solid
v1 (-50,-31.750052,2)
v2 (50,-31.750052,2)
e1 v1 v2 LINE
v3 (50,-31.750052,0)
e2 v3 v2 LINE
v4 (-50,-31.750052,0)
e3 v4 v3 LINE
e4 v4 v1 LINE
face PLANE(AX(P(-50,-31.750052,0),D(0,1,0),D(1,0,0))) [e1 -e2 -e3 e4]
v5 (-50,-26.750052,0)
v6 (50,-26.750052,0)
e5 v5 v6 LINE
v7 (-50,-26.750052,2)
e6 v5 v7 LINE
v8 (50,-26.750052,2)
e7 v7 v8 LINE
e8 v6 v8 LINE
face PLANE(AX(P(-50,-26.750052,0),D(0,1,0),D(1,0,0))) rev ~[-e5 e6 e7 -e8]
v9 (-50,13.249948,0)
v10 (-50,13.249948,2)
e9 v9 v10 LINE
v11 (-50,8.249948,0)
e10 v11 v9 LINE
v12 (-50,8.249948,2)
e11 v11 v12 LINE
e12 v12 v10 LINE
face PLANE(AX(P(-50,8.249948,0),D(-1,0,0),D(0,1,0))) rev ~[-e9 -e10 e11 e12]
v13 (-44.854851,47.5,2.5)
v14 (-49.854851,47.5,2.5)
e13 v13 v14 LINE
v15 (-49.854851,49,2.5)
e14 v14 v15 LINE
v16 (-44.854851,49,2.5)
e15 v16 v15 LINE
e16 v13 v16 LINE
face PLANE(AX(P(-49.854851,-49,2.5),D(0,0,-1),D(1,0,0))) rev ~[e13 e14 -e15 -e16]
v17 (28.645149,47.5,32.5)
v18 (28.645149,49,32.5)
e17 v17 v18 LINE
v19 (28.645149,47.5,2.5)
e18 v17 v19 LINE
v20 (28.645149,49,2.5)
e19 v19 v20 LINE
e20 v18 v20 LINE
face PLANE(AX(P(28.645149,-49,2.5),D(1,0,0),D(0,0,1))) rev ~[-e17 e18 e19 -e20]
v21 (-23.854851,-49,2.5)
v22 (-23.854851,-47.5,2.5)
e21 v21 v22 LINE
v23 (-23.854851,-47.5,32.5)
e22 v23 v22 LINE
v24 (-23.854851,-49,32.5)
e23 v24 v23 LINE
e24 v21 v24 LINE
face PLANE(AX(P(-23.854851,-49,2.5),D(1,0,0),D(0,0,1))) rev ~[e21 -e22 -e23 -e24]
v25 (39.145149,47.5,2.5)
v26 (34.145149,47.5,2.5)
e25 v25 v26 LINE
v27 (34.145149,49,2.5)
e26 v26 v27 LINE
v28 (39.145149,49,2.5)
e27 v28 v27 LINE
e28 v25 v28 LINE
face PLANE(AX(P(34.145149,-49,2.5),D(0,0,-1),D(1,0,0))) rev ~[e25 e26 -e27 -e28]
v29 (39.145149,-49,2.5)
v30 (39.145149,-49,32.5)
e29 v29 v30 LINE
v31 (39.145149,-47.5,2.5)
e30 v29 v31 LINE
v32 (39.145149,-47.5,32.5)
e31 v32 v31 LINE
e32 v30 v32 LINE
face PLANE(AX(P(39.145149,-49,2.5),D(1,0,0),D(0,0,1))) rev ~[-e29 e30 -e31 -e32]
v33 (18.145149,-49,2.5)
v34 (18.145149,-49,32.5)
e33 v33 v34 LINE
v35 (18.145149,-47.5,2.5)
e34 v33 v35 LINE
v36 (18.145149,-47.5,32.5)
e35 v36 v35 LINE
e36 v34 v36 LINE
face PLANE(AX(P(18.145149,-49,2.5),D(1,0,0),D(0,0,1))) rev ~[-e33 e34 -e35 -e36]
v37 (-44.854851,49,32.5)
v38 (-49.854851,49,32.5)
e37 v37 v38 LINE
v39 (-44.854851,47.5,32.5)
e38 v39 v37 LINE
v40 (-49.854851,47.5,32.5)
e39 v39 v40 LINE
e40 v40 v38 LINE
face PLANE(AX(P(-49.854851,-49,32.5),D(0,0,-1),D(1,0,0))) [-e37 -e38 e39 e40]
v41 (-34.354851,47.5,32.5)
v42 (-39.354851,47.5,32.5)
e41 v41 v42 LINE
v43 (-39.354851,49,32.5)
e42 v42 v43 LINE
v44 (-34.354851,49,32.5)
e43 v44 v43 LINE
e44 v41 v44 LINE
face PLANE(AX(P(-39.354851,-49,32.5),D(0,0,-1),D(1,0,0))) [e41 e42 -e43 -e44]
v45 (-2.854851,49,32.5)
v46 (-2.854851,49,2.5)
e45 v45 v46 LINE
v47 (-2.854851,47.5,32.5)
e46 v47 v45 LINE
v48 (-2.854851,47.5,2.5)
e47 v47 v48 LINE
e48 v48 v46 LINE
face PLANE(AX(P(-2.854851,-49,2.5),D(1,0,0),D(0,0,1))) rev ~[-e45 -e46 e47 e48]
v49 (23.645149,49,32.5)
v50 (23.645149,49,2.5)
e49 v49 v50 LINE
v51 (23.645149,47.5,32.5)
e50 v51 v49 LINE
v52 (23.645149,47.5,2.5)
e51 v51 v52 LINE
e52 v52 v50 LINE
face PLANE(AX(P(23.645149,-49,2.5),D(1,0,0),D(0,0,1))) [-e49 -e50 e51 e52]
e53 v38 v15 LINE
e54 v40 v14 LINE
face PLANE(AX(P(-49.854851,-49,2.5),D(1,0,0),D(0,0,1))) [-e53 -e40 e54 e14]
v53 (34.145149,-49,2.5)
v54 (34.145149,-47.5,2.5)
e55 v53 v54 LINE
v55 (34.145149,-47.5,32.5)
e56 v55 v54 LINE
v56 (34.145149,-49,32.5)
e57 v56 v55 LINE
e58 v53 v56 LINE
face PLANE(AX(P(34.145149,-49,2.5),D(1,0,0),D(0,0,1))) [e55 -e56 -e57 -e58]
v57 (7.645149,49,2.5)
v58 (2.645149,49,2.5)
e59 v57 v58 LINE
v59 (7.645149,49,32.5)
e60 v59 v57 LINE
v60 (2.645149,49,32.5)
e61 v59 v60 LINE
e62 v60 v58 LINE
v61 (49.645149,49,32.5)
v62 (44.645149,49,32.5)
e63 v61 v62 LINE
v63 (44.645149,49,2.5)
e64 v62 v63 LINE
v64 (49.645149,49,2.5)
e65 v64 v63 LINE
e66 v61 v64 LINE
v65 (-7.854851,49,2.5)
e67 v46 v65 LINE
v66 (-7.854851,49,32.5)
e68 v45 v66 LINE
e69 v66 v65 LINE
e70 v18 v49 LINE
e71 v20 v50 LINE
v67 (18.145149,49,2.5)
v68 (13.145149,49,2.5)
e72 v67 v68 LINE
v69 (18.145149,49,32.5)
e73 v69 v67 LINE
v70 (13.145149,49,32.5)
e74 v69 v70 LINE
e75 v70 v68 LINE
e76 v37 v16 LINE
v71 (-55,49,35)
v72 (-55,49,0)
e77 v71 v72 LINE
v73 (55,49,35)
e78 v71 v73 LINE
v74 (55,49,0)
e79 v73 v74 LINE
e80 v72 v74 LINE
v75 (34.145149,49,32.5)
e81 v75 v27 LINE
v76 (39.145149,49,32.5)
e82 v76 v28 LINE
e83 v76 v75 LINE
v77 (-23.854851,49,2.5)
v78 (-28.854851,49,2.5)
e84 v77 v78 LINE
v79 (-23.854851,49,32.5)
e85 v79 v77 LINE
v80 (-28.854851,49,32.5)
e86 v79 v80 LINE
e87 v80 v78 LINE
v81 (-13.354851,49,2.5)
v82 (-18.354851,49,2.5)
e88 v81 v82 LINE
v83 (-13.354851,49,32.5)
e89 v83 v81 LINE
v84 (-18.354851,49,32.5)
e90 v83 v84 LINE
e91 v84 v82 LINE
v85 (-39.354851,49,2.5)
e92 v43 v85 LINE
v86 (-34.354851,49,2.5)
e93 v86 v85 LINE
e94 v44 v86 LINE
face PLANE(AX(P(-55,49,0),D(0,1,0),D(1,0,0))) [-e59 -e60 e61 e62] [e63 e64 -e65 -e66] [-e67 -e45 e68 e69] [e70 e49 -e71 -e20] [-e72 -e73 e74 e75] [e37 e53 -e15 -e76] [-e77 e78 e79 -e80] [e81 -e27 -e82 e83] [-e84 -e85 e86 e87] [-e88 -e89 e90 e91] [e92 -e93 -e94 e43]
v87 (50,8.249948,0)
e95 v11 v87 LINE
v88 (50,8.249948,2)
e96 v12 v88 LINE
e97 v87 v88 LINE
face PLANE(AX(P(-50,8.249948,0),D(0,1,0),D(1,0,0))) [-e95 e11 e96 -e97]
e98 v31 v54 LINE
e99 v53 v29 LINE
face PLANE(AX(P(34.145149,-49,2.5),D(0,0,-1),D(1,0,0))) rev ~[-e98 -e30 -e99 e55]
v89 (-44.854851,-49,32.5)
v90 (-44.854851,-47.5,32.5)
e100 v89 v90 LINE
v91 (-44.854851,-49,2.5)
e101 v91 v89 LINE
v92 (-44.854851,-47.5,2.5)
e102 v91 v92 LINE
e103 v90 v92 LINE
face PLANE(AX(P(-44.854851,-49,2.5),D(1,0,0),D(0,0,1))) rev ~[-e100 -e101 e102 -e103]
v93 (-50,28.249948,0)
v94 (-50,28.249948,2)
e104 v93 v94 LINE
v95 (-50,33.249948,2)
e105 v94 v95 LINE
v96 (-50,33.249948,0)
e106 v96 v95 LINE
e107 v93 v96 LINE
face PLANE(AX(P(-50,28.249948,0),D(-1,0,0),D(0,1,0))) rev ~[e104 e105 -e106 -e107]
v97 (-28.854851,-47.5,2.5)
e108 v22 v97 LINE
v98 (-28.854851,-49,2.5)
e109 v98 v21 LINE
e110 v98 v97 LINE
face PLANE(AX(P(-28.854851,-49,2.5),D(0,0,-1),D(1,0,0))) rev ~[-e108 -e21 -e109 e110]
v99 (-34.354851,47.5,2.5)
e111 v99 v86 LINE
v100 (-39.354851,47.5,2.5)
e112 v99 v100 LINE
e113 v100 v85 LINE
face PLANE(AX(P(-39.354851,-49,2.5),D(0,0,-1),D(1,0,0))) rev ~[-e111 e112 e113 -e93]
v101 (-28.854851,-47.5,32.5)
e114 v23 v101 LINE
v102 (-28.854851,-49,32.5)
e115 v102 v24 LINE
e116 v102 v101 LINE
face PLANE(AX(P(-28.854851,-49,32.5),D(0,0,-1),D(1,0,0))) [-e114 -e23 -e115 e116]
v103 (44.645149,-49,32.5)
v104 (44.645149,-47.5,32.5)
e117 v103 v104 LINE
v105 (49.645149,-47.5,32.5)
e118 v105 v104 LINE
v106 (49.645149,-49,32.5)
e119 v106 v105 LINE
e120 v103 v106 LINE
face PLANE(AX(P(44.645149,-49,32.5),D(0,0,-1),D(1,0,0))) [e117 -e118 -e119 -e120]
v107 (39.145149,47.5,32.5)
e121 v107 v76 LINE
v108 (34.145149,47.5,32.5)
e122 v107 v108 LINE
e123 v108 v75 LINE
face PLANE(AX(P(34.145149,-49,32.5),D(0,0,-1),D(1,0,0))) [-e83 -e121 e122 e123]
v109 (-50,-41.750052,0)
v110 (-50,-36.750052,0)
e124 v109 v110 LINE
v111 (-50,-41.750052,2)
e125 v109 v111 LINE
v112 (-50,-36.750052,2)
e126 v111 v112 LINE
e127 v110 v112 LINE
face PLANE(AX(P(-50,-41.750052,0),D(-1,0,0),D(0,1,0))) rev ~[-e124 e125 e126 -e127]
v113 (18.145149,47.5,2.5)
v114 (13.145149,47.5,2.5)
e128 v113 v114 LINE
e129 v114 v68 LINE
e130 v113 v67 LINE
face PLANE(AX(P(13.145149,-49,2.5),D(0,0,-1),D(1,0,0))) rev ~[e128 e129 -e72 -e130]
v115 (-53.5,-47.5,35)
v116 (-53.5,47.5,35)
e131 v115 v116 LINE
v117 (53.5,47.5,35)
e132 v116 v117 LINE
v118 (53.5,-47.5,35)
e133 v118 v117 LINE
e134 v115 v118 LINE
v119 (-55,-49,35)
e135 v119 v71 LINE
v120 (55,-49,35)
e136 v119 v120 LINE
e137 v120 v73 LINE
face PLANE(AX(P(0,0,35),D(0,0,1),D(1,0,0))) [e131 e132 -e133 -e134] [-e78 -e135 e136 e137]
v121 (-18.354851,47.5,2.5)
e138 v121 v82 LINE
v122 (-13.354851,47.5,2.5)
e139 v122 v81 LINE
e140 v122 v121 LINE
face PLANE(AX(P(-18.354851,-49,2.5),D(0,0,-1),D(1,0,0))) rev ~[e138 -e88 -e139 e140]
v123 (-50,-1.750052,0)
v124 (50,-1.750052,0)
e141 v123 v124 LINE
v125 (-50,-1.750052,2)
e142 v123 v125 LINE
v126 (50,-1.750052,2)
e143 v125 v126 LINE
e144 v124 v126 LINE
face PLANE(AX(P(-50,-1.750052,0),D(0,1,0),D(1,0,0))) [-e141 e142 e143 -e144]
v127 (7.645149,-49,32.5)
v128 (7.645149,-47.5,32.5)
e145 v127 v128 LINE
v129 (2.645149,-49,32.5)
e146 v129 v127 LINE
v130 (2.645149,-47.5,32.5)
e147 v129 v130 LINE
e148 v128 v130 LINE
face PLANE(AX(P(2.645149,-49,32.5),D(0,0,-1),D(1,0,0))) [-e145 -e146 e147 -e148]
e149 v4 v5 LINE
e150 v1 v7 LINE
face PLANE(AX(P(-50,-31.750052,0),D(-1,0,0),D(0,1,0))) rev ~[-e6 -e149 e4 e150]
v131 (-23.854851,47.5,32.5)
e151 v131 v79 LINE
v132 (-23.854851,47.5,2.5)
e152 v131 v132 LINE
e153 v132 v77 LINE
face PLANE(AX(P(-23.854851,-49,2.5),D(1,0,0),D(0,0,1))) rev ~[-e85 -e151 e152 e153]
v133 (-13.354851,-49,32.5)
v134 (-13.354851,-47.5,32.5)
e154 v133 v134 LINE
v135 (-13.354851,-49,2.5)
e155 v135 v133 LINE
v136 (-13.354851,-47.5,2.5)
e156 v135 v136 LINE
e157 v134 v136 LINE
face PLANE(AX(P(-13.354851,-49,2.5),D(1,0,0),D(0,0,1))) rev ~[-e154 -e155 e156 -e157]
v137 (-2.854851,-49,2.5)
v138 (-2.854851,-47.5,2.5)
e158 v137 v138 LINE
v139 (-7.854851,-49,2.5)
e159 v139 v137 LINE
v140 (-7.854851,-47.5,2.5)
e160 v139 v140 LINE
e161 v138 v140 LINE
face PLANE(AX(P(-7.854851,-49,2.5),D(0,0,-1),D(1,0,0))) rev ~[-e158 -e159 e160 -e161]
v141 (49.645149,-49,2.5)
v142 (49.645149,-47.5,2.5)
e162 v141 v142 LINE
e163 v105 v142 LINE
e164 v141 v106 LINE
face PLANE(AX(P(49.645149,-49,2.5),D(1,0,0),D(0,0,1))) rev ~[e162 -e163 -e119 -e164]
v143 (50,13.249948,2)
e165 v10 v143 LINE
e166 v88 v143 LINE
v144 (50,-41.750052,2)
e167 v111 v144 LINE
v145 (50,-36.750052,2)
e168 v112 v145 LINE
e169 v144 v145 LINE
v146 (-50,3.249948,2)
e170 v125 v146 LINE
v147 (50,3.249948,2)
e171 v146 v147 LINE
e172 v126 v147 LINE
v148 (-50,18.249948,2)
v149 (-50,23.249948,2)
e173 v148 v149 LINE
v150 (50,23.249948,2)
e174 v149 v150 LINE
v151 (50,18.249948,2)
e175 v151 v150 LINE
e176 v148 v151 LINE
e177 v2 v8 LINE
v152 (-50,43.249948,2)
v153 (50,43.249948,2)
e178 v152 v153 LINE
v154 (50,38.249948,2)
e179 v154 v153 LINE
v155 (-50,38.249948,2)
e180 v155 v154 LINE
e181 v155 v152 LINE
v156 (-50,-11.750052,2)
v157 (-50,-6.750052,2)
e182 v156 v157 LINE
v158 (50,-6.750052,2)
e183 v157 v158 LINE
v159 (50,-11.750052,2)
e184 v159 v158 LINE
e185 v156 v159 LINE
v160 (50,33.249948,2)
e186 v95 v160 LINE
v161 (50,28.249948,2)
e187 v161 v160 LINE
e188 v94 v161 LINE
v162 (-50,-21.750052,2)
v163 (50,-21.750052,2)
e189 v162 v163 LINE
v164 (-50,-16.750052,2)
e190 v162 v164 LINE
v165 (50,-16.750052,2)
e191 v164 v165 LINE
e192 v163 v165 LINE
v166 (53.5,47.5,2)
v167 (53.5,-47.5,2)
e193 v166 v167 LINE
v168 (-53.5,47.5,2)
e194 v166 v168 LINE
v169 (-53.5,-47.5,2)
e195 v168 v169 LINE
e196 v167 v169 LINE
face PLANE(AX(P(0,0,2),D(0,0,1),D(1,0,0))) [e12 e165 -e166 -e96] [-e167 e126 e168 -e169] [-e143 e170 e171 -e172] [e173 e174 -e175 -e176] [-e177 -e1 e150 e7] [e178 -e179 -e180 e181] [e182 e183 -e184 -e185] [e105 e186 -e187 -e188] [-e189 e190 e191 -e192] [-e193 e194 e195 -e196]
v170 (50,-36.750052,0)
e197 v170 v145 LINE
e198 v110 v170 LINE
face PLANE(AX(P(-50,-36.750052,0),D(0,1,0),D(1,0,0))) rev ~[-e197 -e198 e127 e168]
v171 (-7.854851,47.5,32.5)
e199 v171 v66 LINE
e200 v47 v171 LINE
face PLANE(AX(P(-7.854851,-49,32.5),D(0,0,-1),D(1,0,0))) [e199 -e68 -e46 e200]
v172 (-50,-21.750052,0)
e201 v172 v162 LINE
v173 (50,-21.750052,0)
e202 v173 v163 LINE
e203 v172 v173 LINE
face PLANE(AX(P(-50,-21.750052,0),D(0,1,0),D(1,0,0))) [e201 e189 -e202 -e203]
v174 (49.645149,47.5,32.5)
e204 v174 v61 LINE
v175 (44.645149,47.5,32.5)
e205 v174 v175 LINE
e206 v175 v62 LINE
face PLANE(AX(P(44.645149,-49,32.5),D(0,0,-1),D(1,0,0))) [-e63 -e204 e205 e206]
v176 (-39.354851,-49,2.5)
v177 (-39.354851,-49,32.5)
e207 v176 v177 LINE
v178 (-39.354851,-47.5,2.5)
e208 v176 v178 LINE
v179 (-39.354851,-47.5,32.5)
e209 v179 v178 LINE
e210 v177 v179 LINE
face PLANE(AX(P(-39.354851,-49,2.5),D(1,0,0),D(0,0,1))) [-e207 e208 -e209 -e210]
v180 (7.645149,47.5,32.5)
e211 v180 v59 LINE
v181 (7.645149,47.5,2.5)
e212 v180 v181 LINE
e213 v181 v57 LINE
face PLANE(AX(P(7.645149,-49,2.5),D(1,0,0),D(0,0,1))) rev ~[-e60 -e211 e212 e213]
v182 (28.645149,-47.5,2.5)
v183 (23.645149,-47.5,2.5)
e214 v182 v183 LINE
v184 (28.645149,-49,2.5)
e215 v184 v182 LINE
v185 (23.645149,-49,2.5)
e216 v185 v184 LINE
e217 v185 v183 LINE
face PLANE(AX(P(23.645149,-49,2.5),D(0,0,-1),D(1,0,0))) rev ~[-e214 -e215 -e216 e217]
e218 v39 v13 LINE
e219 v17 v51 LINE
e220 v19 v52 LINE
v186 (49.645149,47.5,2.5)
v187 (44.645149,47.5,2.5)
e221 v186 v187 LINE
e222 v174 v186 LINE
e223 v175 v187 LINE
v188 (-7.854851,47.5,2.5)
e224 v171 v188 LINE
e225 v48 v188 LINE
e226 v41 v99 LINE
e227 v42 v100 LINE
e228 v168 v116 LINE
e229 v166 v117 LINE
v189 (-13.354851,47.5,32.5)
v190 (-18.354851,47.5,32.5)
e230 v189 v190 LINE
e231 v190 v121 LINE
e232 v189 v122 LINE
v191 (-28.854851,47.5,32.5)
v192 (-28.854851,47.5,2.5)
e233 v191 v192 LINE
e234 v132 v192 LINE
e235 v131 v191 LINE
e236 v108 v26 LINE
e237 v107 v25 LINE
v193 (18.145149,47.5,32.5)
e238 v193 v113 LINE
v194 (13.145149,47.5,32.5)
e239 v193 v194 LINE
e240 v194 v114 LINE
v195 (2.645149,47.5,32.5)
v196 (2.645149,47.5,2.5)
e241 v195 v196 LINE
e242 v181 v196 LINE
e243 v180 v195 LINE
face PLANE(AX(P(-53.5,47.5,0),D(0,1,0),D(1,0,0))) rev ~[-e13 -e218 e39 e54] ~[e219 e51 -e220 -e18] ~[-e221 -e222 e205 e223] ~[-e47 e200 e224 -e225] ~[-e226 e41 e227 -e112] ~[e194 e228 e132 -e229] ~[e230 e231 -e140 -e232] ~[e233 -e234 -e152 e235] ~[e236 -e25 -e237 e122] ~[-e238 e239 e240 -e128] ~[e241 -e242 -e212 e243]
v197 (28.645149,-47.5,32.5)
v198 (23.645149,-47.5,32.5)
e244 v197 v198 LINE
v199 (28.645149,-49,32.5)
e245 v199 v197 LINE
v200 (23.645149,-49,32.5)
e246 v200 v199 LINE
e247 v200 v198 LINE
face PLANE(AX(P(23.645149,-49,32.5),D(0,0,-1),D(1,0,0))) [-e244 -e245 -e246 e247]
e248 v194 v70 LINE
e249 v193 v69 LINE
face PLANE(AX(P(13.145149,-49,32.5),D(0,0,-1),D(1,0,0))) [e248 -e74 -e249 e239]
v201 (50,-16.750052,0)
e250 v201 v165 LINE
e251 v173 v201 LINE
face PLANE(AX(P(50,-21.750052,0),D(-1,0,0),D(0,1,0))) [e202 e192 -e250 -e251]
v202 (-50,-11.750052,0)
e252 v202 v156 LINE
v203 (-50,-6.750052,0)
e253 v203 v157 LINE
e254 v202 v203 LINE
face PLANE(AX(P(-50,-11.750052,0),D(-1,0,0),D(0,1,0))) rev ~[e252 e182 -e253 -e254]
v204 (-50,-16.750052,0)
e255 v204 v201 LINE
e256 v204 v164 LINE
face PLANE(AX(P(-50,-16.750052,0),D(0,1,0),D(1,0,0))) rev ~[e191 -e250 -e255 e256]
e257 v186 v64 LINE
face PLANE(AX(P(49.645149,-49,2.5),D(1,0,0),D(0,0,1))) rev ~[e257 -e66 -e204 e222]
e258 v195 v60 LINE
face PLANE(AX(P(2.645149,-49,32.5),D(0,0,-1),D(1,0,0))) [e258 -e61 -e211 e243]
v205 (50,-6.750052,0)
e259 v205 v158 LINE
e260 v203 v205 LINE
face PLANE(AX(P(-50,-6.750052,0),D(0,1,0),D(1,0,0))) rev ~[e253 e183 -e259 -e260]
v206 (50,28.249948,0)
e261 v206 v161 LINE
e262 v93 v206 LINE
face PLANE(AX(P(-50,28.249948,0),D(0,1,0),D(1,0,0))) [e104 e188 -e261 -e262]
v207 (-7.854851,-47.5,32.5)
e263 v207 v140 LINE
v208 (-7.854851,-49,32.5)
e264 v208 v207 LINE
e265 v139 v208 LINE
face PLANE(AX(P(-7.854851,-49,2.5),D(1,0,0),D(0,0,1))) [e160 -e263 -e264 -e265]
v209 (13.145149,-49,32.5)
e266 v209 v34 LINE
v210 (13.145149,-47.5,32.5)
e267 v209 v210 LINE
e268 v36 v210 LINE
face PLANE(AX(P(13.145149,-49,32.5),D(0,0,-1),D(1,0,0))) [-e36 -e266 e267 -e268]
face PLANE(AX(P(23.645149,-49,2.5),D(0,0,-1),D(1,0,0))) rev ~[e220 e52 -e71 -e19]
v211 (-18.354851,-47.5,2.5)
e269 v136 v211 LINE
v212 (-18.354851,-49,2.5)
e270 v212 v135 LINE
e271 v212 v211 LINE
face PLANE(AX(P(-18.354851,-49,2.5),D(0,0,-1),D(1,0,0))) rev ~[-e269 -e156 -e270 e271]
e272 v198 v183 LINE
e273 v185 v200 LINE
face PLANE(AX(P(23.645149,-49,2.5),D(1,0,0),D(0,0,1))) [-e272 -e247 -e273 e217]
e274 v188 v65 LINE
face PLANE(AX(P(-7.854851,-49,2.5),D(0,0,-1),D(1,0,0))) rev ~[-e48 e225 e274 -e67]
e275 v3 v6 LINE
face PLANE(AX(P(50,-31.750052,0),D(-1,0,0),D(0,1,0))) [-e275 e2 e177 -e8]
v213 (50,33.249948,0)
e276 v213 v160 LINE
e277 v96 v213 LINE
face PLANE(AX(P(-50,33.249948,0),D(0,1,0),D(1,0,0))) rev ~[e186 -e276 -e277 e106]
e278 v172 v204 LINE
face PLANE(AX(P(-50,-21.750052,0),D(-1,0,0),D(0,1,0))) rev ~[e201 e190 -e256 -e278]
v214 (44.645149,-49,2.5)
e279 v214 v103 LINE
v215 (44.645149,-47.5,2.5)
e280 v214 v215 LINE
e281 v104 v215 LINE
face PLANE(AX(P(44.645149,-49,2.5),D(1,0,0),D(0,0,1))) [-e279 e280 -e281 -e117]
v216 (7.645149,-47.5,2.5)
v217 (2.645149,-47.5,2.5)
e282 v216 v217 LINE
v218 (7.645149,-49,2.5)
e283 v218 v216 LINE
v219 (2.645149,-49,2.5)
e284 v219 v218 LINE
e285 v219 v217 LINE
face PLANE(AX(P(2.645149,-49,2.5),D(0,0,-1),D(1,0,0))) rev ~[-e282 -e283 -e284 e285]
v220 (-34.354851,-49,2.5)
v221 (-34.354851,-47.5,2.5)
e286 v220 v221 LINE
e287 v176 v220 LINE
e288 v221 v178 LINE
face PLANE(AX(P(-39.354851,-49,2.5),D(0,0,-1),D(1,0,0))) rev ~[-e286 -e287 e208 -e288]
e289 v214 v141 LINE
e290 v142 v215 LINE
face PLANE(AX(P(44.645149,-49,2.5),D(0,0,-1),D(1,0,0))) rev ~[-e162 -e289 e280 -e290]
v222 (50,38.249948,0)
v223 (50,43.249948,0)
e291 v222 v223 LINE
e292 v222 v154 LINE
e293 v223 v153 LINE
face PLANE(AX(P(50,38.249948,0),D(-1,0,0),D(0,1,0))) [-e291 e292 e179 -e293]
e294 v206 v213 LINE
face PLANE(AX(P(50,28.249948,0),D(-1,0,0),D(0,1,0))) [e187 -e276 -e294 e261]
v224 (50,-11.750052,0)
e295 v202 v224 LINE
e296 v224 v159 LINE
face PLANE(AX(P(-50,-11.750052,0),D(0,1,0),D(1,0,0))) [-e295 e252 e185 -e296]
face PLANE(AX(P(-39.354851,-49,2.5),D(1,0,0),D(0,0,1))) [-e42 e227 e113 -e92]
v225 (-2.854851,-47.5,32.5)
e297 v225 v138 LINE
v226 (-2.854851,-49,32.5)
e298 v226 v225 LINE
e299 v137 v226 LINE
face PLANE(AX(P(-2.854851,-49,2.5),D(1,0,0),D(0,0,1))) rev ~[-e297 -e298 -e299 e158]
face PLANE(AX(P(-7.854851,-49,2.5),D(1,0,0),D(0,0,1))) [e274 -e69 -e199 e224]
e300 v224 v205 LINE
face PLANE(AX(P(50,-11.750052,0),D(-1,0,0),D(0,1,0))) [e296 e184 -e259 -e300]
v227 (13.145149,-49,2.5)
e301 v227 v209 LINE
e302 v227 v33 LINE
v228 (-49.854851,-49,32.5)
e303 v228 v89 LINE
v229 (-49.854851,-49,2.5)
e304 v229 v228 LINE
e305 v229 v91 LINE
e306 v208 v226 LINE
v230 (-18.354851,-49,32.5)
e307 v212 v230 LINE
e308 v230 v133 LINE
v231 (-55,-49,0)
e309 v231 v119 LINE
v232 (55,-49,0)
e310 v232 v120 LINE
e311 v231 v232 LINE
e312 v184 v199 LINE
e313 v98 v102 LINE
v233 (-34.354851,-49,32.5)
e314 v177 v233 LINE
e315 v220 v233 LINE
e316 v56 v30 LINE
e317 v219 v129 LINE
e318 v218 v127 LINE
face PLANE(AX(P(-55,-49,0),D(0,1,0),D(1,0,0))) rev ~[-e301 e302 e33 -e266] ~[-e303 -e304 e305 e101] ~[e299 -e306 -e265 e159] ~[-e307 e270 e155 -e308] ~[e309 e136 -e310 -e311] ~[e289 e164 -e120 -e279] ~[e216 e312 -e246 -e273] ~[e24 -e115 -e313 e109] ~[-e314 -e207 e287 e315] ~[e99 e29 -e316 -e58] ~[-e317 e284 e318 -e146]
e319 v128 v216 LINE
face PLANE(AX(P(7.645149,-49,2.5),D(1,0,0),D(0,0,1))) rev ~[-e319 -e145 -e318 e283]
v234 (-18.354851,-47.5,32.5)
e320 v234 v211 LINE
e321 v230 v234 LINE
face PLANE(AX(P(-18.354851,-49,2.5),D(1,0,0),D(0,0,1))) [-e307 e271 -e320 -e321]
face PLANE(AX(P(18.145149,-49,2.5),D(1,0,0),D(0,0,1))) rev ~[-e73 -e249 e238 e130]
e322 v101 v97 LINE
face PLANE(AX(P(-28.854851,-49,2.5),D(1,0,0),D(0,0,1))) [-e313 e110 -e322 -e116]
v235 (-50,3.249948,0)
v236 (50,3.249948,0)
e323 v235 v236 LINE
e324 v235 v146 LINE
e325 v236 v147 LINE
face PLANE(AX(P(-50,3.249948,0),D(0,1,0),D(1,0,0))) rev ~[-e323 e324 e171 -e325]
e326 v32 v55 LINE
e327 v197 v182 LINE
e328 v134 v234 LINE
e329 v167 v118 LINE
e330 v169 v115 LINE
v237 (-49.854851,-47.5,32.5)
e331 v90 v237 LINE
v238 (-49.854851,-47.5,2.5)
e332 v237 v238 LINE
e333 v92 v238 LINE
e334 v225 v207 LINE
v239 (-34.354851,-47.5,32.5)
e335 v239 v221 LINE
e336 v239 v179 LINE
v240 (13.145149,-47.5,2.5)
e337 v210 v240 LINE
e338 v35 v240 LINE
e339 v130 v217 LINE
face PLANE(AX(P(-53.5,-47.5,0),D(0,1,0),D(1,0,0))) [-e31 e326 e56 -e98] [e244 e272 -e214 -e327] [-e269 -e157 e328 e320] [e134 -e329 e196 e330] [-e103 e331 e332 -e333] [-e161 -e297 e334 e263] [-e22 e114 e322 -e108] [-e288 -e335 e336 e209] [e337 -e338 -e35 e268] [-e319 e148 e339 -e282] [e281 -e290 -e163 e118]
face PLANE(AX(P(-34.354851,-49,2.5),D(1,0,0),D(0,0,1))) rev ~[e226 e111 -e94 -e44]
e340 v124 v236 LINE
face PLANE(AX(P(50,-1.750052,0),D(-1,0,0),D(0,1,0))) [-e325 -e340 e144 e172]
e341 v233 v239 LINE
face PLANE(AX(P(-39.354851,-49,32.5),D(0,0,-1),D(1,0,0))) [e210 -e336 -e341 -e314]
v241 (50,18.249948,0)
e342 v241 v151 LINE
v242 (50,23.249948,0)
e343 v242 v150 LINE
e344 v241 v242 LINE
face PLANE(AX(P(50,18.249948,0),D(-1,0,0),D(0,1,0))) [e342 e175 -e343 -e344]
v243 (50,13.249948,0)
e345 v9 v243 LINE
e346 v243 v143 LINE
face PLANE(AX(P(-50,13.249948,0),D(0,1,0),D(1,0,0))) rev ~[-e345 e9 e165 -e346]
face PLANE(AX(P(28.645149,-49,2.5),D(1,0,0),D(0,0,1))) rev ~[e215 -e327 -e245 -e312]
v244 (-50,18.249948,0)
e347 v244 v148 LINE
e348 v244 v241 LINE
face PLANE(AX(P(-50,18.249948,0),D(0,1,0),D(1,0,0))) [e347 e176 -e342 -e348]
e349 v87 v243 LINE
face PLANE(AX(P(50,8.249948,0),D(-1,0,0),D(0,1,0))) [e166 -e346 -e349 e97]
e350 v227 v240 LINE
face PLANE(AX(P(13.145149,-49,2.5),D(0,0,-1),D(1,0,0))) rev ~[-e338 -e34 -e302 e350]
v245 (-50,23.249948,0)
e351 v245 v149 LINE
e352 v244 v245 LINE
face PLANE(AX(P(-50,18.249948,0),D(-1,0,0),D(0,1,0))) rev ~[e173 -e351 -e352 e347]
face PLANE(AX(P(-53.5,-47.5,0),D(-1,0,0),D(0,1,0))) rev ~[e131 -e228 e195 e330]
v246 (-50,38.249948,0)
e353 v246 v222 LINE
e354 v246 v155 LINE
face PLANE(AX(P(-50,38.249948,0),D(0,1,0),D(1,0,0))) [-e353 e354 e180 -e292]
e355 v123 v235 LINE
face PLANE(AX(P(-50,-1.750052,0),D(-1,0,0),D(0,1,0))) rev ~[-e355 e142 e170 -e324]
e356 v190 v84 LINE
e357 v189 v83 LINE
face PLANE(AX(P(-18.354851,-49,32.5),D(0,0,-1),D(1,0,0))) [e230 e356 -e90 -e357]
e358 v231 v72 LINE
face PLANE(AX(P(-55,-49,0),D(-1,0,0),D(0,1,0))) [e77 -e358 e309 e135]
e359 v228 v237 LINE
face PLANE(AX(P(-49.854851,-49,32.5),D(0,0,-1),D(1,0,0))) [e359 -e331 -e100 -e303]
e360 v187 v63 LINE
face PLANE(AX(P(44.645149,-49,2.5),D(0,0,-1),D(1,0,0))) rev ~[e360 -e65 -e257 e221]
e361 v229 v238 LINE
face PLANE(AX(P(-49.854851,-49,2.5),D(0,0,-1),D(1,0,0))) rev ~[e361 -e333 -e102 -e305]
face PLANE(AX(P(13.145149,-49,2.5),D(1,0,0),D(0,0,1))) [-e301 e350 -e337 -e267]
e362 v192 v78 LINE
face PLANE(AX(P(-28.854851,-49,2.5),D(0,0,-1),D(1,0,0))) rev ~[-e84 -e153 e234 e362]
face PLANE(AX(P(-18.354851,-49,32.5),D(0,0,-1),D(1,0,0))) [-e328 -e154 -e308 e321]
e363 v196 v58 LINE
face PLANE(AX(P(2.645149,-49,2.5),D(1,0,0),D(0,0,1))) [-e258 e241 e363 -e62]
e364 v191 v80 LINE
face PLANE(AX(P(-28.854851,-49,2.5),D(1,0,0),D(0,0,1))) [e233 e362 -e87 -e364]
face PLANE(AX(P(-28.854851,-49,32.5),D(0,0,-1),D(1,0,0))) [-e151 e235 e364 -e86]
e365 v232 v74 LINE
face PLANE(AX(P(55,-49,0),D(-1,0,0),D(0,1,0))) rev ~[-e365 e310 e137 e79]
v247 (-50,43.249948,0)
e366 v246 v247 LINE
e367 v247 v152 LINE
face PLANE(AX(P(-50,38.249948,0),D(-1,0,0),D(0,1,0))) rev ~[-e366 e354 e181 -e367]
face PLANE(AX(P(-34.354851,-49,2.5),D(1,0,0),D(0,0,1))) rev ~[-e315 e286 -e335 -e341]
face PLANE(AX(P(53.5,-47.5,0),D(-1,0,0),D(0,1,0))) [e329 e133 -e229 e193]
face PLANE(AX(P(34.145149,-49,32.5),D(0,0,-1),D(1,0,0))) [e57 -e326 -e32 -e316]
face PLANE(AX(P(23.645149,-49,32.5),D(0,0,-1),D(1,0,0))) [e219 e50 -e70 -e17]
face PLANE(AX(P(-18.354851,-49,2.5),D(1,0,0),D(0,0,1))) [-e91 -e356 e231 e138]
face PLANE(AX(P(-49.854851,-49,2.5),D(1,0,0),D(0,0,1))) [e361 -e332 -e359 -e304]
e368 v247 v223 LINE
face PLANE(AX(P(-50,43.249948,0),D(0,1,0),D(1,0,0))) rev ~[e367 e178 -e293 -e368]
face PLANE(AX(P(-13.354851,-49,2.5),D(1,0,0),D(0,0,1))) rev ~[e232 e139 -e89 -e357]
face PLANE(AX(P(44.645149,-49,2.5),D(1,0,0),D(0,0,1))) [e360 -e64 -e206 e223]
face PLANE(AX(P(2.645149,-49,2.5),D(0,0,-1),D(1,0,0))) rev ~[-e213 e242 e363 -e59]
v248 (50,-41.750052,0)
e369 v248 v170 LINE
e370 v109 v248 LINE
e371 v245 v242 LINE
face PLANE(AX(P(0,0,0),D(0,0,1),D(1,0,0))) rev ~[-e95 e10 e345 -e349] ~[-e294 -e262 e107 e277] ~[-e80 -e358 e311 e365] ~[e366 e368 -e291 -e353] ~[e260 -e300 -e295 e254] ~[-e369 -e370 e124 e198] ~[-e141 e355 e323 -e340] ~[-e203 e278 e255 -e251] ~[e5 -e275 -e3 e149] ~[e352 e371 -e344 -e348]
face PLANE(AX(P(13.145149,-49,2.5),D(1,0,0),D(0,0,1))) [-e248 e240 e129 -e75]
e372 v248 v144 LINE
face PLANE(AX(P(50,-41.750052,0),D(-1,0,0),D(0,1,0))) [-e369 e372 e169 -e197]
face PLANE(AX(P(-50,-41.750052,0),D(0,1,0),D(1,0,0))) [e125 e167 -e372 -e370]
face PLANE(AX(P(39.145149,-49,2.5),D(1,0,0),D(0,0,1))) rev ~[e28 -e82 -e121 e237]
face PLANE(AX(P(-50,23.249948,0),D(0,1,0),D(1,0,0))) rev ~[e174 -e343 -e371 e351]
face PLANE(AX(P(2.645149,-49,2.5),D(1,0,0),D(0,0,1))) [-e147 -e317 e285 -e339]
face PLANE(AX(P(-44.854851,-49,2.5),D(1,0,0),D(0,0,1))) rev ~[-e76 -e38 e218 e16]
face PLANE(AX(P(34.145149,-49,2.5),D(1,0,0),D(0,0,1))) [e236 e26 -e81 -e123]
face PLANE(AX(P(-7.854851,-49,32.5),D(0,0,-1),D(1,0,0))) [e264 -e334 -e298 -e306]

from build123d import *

# Parameters (mm, degrees)
F0_W     = 110
F0_H     = 98
F0_W_2   = 107
F0_H_2   = 95
F0_W_3   = 100
F0_H_3   = 5
F1_DEPTH = 2
F2_DEPTH = 35
F3_W     = 5
F3_H     = 30
F4_DEPTH = 150


with BuildPart() as f1:
    # F0 (on Top) → F1 (new body)
    with BuildSketch(Plane.XY):
        Rectangle(F0_W, F0_H)
        Rectangle(F0_W_2, F0_H_2, mode=Mode.SUBTRACT)
        Rectangle(F0_W_2, F0_H_2)
        with Locations((0, -39.2500515282)):
            Rectangle(F0_W_3, F0_H_3, mode=Mode.SUBTRACT)
        with Locations((0, -29.2500515282)):
            Rectangle(F0_W_3, F0_H_3, mode=Mode.SUBTRACT)
        with Locations((0, -19.2500515282)):
            Rectangle(F0_W_3, F0_H_3, mode=Mode.SUBTRACT)
        with Locations((0, -9.2500515282)):
            Rectangle(F0_W_3, F0_H_3, mode=Mode.SUBTRACT)
        with Locations((0, 0.7499484718)):
            Rectangle(F0_W_3, F0_H_3, mode=Mode.SUBTRACT)
        with Locations((0, 10.7499484718)):
            Rectangle(F0_W_3, F0_H_3, mode=Mode.SUBTRACT)
        with Locations((0, 20.7499484718)):
            Rectangle(F0_W_3, F0_H_3, mode=Mode.SUBTRACT)
        with Locations((0, 30.7499484718)):
            Rectangle(F0_W_3, F0_H_3, mode=Mode.SUBTRACT)
        with Locations((0, 40.7499484718)):
            Rectangle(F0_W_3, F0_H_3, mode=Mode.SUBTRACT)
    extrude(amount=F1_DEPTH)

    # F0 (on Top) → F2 (join)
    with BuildSketch(Plane.XY):
        Rectangle(F0_W, F0_H)
        Rectangle(F0_W_2, F0_H_2, mode=Mode.SUBTRACT)
    extrude(amount=F2_DEPTH)

    # F3 (on face) → F4 (cut)
    with BuildSketch(Plane.XZ.offset(49)):
        with Locations((-36.8548509181, 17.5)):
            Rectangle(F3_W, F3_H)
        with Locations((-47.3548509181, 17.5)):
            Rectangle(F3_W, F3_H)
        with Locations((-26.3548509181, 17.5)):
            Rectangle(F3_W, F3_H)
        with Locations((-15.8548509181, 17.5)):
            Rectangle(F3_W, F3_H)
        with Locations((-5.3548509181, 17.5)):
            Rectangle(F3_W, F3_H)
        with Locations((5.1451490819, 17.5)):
            Rectangle(F3_W, F3_H)
        with Locations((15.6451490819, 17.5)):
            Rectangle(F3_W, F3_H)
        with Locations((26.1451490819, 17.5)):
            Rectangle(F3_W, F3_H)
        with Locations((36.6451490819, 17.5)):
            Rectangle(F3_W, F3_H)
        with Locations((47.1451490819, 17.5)):
            Rectangle(F3_W, F3_H)
    extrude(amount=-F4_DEPTH, mode=Mode.SUBTRACT)


solid = f1.part
